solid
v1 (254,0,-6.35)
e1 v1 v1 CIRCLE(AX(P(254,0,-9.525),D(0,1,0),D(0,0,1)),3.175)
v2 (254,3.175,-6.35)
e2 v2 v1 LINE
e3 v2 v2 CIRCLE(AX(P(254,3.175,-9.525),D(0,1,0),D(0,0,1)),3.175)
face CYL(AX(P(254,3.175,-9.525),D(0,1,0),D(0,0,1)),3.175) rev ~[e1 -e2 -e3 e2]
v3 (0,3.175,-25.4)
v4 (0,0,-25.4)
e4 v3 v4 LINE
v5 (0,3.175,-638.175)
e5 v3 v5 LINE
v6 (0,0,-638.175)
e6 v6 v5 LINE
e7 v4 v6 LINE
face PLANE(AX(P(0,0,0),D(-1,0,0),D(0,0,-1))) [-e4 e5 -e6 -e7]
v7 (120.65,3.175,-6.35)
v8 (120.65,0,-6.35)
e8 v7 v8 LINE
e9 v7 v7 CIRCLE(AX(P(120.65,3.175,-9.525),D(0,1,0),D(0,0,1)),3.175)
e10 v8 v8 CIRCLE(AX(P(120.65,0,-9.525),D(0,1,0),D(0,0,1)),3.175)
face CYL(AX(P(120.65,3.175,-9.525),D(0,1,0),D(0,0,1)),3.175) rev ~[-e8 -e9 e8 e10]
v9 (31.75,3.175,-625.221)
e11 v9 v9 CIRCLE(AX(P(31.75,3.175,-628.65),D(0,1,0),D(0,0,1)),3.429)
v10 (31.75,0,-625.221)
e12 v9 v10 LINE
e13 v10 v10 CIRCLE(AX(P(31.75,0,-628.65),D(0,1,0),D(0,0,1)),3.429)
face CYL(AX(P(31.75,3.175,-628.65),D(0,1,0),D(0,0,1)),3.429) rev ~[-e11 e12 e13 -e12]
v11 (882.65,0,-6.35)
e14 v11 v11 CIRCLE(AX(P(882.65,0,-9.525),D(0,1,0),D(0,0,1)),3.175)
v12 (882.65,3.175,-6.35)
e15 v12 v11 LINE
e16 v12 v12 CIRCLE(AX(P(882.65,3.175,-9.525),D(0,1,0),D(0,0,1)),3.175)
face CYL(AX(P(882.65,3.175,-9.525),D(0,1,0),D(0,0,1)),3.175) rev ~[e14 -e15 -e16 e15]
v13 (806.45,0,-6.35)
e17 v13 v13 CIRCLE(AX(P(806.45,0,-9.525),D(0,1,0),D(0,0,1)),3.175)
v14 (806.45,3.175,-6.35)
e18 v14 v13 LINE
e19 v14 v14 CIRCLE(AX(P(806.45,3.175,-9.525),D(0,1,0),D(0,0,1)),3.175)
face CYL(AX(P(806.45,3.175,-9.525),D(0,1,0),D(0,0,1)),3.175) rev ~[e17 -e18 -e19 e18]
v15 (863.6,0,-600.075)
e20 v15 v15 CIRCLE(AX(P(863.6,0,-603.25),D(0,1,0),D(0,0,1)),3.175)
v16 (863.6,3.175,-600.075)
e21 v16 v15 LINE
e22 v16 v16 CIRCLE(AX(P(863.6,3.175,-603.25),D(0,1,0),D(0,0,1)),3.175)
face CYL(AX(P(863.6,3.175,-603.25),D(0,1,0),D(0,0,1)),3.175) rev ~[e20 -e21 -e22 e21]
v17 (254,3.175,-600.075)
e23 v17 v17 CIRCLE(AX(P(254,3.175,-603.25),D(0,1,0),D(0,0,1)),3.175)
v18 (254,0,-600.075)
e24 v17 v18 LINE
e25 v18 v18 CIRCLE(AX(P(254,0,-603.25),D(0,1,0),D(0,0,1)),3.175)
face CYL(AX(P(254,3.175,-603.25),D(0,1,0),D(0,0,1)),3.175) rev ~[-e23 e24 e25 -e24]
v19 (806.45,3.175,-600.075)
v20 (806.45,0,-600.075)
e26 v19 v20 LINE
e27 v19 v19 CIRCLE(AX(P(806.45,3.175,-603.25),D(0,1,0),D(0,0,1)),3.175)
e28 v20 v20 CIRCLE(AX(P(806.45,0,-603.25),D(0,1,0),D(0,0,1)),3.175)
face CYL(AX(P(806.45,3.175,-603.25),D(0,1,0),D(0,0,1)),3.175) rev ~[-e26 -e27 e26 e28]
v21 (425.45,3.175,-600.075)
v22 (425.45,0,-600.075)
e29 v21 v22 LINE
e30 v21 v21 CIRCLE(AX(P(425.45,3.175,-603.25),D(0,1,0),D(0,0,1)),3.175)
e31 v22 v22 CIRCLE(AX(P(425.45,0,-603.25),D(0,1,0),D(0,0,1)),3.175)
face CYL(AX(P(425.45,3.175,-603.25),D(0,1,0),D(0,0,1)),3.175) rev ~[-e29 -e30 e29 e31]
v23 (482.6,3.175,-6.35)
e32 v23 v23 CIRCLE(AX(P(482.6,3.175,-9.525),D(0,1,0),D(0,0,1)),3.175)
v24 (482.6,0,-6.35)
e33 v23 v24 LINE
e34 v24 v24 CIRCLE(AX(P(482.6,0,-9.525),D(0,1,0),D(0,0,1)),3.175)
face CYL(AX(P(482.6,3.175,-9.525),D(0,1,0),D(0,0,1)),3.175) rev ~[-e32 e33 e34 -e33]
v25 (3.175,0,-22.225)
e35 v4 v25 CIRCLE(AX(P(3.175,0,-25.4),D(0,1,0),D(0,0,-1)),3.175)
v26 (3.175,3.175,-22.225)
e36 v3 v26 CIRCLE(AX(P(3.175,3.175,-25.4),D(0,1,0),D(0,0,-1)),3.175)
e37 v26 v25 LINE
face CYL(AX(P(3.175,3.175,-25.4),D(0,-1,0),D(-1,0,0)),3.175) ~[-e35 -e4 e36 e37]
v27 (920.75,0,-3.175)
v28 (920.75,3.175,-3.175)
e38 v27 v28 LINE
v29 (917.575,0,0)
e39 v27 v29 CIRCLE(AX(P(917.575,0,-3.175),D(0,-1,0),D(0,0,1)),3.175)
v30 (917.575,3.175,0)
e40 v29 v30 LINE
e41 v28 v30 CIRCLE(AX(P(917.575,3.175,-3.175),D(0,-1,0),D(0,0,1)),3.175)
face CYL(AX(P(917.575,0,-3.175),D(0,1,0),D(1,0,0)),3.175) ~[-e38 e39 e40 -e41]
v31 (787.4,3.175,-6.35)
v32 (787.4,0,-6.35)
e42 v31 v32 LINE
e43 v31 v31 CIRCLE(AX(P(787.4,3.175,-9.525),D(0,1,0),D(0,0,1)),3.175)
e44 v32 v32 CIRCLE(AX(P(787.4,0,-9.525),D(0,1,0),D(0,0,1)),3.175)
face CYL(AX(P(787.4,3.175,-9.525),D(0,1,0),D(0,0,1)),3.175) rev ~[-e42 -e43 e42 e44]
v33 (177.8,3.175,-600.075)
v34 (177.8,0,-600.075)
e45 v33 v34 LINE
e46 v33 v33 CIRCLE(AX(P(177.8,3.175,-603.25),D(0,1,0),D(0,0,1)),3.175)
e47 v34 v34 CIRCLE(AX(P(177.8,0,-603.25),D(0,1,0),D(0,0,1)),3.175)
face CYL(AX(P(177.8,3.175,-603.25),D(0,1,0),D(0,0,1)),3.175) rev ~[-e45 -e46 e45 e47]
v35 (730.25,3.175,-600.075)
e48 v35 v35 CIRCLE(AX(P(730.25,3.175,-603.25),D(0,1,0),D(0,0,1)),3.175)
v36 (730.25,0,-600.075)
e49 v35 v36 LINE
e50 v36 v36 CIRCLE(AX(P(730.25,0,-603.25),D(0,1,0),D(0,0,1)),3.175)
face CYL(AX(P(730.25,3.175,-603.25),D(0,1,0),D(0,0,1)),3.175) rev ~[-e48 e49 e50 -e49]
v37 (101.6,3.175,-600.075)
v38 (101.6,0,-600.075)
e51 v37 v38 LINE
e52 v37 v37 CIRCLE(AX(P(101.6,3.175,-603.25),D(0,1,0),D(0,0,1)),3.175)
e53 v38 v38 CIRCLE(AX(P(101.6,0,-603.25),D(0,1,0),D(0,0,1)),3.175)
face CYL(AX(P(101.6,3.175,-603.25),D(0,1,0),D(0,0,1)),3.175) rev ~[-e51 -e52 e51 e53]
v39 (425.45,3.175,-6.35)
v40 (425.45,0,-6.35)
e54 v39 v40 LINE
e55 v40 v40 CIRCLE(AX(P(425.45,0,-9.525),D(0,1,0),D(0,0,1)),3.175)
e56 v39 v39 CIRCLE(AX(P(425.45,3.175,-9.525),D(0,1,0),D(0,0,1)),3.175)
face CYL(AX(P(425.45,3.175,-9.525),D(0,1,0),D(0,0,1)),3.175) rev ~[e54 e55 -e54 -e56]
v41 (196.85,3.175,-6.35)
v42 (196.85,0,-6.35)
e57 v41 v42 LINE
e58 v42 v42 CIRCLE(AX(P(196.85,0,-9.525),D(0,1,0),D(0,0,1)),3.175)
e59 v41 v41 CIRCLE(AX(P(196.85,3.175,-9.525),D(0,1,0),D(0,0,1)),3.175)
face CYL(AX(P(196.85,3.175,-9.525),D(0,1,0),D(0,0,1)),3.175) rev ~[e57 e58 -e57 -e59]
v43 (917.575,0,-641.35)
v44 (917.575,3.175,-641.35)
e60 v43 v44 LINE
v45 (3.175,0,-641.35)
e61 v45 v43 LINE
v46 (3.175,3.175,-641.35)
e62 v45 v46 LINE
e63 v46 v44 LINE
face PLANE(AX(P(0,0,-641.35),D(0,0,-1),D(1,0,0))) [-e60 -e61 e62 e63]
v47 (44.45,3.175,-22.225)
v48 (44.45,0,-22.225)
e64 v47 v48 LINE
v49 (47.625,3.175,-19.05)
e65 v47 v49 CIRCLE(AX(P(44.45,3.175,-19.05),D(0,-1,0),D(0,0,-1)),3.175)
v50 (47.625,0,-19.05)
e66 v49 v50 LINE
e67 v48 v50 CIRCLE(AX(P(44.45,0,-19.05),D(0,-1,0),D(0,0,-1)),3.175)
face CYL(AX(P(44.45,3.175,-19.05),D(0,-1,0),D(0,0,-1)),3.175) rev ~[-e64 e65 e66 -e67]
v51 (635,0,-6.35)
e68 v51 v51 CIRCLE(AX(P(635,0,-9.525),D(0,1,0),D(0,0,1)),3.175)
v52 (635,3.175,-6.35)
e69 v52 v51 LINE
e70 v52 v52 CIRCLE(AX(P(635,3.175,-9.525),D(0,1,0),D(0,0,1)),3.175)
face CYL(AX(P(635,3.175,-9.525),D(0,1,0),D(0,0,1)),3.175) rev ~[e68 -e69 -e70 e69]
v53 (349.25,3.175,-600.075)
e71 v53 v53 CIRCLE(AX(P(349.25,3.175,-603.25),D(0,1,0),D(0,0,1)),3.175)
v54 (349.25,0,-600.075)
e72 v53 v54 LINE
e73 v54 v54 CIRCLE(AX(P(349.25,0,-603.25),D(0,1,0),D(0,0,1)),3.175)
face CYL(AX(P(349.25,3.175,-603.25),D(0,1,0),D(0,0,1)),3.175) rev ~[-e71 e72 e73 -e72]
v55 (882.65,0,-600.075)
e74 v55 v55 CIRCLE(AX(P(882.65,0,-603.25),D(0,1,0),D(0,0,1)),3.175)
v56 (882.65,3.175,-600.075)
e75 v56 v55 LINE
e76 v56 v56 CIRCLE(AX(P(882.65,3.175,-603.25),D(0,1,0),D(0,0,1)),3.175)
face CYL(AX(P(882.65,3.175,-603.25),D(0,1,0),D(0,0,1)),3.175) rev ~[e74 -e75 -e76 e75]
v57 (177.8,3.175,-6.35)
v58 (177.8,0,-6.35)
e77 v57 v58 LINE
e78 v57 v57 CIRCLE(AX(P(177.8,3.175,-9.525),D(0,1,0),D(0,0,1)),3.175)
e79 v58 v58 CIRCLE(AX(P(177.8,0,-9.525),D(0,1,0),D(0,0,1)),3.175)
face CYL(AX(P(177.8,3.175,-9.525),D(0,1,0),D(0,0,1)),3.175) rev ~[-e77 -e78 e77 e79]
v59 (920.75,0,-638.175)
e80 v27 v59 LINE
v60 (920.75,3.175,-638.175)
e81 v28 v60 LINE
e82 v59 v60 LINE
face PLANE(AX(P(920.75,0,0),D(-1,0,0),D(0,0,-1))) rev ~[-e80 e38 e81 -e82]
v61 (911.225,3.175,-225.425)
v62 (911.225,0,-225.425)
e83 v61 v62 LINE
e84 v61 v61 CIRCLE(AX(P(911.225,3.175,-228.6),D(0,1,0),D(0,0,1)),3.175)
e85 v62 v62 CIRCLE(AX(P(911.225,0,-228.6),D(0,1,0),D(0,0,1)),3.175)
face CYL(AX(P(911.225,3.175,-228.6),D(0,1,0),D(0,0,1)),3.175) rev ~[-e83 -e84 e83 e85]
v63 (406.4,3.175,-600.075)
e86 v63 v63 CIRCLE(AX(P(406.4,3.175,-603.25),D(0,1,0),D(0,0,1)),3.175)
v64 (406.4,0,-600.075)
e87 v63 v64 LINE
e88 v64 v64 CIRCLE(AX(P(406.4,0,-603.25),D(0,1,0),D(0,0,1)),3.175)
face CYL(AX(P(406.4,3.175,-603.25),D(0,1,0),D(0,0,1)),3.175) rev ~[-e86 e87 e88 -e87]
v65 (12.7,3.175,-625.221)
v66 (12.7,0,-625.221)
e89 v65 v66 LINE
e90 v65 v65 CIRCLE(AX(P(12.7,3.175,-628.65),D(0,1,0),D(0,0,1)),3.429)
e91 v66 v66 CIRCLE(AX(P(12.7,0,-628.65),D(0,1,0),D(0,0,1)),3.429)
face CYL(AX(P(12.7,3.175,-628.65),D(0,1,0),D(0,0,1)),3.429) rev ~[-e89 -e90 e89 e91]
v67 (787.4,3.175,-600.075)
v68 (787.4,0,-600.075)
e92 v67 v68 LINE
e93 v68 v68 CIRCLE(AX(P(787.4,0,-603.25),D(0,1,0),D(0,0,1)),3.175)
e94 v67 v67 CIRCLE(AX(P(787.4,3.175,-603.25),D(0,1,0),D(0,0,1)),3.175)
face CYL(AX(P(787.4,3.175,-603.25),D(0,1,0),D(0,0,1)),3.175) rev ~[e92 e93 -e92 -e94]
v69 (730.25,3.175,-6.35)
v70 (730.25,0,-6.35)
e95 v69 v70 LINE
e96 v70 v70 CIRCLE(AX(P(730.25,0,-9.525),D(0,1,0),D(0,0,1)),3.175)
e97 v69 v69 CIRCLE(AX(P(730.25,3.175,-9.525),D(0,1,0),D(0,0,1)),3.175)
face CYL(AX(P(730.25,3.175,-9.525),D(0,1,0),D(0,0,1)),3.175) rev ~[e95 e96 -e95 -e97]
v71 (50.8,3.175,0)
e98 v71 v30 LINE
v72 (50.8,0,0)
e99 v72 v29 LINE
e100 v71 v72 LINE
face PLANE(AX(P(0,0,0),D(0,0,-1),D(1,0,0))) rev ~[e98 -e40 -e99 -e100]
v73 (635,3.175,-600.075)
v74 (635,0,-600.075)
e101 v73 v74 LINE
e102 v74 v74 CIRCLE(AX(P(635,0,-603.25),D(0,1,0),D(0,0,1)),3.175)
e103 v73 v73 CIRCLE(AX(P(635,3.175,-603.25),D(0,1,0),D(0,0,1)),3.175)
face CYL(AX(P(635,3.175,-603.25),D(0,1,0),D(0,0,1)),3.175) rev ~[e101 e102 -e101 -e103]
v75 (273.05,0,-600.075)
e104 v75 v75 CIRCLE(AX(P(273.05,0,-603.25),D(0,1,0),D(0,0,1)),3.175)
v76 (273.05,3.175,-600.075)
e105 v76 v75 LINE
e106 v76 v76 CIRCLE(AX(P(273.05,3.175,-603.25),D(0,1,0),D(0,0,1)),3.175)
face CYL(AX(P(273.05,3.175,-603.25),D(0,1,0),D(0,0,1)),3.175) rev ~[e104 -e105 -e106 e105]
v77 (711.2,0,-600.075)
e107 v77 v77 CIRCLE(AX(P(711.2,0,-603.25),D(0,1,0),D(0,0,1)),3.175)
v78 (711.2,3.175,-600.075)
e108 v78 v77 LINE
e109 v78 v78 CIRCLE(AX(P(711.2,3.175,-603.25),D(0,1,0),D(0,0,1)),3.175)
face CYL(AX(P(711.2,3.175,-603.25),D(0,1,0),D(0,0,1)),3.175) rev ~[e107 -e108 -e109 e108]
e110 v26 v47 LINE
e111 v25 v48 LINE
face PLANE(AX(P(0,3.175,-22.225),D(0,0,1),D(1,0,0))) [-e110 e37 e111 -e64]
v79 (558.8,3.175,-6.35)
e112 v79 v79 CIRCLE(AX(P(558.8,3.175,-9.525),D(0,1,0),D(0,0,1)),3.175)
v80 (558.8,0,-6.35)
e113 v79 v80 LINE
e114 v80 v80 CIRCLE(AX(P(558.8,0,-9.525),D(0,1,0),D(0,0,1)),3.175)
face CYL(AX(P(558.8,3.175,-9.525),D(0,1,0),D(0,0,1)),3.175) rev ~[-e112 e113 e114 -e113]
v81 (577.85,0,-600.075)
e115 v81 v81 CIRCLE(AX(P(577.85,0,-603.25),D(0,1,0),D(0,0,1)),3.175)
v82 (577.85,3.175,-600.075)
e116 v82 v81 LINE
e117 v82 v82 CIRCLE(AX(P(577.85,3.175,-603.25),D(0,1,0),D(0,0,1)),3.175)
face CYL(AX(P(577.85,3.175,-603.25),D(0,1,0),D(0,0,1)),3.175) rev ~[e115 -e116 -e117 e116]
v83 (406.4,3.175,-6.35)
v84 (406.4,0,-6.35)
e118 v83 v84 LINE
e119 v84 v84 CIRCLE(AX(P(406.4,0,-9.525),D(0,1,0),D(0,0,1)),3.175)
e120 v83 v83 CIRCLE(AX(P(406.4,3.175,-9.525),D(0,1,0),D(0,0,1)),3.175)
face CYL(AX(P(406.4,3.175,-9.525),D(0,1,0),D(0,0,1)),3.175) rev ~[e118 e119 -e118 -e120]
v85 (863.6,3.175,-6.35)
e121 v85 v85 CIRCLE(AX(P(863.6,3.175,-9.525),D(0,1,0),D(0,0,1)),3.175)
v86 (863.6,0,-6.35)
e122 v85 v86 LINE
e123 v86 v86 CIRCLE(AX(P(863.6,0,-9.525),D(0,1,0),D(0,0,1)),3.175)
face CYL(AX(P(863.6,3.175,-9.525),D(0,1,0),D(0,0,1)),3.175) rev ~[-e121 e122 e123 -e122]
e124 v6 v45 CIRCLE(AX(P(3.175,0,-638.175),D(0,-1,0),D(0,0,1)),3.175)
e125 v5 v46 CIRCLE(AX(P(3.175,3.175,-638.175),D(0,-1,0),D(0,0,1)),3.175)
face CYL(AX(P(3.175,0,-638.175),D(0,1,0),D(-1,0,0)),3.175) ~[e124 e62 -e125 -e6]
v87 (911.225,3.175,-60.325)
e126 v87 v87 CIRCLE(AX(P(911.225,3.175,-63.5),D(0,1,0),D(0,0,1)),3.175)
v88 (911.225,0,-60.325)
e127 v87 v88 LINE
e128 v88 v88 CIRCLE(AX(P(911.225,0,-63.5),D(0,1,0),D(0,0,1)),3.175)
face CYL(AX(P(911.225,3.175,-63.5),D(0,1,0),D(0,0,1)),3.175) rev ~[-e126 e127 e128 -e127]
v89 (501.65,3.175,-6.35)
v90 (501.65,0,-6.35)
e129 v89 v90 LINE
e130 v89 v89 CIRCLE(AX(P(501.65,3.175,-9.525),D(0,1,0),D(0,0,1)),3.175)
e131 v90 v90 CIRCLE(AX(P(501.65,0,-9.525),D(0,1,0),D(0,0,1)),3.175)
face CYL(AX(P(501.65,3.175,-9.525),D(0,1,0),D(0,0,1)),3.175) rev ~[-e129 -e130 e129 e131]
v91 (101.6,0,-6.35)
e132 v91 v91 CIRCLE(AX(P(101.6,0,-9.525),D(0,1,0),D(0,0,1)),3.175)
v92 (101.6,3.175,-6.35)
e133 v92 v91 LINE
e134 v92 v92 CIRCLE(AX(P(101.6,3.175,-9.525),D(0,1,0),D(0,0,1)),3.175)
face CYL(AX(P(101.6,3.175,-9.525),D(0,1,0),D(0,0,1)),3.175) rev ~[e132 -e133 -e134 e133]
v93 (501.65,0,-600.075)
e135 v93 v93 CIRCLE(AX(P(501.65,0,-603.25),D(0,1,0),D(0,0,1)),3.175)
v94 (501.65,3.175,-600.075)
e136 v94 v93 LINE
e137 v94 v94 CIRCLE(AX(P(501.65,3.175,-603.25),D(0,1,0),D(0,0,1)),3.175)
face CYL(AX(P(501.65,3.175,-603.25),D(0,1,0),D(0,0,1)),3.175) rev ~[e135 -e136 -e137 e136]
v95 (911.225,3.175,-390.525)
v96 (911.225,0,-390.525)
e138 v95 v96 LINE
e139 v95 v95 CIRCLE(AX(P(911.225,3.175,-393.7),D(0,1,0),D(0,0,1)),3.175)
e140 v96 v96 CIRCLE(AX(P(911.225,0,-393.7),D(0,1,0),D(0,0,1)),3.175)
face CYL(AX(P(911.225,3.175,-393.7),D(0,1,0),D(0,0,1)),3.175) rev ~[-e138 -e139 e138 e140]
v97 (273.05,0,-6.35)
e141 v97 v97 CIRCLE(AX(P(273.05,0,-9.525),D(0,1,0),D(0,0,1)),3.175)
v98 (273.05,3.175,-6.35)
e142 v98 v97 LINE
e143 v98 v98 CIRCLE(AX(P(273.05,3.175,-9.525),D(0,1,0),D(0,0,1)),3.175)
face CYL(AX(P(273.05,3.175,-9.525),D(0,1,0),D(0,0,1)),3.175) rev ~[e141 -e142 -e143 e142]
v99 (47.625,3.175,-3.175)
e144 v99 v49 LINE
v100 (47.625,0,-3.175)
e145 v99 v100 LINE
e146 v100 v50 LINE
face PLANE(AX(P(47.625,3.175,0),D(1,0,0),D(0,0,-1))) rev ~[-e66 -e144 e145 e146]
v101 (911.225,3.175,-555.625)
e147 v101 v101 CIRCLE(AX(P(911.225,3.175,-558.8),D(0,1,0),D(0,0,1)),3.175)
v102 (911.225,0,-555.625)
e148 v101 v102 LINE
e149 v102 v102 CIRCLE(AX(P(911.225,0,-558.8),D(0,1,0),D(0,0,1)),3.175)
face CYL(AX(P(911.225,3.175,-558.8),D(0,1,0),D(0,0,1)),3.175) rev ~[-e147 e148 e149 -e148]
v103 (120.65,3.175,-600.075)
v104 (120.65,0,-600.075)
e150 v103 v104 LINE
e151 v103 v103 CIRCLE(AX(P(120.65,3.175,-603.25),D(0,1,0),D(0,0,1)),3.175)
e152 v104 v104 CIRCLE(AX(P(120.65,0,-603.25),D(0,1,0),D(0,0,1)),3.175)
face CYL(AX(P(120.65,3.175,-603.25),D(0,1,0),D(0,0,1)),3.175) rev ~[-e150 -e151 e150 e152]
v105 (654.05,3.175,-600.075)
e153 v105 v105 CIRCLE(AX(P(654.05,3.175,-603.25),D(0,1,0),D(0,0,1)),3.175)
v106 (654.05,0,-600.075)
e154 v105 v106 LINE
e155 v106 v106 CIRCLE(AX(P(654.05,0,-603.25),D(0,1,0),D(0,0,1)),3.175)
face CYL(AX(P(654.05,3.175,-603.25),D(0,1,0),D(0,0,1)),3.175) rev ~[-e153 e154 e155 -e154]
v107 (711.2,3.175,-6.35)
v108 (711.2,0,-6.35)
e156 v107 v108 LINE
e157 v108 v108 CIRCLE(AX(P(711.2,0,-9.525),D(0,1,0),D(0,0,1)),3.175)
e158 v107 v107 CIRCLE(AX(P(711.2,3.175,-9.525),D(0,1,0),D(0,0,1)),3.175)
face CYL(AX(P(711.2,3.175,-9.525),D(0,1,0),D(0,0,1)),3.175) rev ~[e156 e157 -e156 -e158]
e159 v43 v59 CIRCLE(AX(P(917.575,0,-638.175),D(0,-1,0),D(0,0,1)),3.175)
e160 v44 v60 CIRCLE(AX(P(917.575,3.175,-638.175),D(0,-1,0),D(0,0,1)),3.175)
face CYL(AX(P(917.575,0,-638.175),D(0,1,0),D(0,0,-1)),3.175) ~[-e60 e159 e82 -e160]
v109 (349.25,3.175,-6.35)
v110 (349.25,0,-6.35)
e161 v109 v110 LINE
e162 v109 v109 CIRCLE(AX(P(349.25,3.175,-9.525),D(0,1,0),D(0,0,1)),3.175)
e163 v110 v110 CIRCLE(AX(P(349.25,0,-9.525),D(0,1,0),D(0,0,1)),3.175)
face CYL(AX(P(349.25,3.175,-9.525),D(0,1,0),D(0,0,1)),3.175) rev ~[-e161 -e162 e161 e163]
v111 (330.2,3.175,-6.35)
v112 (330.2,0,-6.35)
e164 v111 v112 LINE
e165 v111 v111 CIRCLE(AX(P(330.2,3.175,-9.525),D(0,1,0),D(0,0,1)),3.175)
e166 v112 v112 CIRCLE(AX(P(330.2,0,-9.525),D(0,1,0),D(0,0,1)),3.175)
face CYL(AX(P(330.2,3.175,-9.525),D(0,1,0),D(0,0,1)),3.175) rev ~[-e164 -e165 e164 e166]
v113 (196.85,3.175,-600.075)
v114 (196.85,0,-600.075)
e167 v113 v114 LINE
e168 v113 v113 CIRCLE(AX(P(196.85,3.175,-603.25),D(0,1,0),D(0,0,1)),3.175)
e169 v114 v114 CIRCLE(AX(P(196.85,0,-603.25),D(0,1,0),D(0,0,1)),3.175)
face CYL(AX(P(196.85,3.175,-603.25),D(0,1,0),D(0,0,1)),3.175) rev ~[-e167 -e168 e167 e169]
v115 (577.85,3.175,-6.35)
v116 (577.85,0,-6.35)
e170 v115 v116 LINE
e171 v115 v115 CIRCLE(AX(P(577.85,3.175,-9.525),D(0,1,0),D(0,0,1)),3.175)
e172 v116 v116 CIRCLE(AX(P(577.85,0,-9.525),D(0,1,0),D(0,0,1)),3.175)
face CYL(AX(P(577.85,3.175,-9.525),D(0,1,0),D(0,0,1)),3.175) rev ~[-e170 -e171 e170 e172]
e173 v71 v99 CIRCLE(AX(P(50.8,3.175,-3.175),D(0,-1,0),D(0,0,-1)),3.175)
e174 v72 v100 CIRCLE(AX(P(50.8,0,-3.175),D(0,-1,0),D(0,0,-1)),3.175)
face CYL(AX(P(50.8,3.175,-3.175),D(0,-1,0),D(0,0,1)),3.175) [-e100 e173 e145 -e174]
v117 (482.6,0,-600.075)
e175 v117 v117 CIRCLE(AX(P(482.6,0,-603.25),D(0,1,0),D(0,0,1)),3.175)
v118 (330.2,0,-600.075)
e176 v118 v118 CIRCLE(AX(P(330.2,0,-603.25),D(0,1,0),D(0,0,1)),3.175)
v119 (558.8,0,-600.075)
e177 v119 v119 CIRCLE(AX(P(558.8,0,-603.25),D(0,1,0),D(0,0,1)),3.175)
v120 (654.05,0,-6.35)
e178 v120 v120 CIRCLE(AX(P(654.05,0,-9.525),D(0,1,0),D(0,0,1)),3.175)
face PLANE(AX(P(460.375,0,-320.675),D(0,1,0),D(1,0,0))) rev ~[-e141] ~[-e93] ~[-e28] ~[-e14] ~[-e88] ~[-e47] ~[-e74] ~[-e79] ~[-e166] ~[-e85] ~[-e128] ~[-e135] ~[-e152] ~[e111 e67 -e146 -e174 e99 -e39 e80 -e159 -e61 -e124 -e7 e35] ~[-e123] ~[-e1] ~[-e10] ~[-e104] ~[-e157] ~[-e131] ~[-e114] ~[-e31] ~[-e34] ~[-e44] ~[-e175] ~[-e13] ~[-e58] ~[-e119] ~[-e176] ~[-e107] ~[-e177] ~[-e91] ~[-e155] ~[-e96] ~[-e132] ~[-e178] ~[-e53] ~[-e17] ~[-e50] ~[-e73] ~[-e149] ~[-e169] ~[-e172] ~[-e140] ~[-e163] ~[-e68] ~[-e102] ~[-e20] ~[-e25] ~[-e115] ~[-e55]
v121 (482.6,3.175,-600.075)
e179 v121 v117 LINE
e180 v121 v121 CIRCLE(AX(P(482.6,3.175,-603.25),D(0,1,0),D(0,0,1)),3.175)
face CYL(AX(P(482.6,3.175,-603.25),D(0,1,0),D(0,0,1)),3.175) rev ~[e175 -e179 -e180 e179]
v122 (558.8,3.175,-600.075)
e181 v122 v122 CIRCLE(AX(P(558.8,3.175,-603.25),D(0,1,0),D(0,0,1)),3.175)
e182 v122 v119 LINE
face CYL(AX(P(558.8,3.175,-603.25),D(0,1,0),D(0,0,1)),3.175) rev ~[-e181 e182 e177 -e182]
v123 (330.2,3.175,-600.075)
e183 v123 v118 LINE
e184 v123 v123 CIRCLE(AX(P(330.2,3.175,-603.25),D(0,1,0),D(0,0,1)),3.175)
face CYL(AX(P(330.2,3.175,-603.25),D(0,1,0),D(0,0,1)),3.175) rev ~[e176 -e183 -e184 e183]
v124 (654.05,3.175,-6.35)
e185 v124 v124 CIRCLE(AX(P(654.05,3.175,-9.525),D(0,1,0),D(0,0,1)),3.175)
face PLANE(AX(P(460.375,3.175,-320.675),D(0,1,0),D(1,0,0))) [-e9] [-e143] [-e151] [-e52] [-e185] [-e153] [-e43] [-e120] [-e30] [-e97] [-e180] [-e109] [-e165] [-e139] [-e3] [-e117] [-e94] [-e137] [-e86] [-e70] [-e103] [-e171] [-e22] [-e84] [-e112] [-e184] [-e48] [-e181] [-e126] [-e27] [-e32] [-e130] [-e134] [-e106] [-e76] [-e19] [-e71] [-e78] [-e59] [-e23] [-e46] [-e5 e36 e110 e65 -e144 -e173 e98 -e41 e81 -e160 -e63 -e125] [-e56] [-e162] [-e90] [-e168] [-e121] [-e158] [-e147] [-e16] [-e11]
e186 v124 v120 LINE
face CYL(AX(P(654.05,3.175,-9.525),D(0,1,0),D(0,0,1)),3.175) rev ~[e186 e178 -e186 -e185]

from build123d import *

# Parameters (mm, degrees)
SKETCH1_W           = 920.75
SKETCH1_H           = 641.35
BOSS_EXTRUDE1_DEPTH = 3.175
SKETCH2_R           = 3.429
SKETCH2_R_2         = 3.175
SKETCH2_W           = 47.625
SKETCH2_H           = 22.225
CUT_EXTRUDE1_DEPTH  = 3.175
FILLET1_R           = 3.175


with BuildPart() as part:
    # Sketch1 → Boss-Extrude1 (new body)
    with BuildSketch(Plane(origin=(0, 0, 0), x_dir=(1, 0, 0), z_dir=(0, 1, 0))):
        with Locations((460.375, 320.675)):
            Rectangle(SKETCH1_W, SKETCH1_H)
    extrude(amount=BOSS_EXTRUDE1_DEPTH)

    # Sketch2 → Cut-Extrude1 (cut)
    with BuildSketch(Plane(origin=(0, 3.175, 0), x_dir=(1, 0, 0), z_dir=(0, 1, 0))):
        with Locations(Location((12.7, 628.65, 0), (0, 0, 270))):
            Circle(SKETCH2_R)
        with Locations(Location((31.75, 628.65, 0), (0, 0, 270))):
            Circle(SKETCH2_R)
        with Locations(Location((101.6, 9.525, 0), (0, 0, 270))):
            Circle(SKETCH2_R_2)
        with Locations(Location((120.65, 9.525, 0), (0, 0, 270))):
            Circle(SKETCH2_R_2)
        with Locations(Location((196.85, 9.525, 0), (0, 0, 270))):
            Circle(SKETCH2_R_2)
        with Locations(Location((177.8, 9.525, 0), (0, 0, 270))):
            Circle(SKETCH2_R_2)
        with Locations(Location((273.05, 9.525, 0), (0, 0, 270))):
            Circle(SKETCH2_R_2)
        with Locations(Location((254, 9.525, 0), (0, 0, 270))):
            Circle(SKETCH2_R_2)
        with Locations(Location((349.25, 9.525, 0), (0, 0, 270))):
            Circle(SKETCH2_R_2)
        with Locations(Location((330.2, 9.525, 0), (0, 0, 270))):
            Circle(SKETCH2_R_2)
        with Locations(Location((425.45, 9.525, 0), (0, 0, 270))):
            Circle(SKETCH2_R_2)
        with Locations(Location((406.4, 9.525, 0), (0, 0, 270))):
            Circle(SKETCH2_R_2)
        with Locations(Location((501.65, 9.525, 0), (0, 0, 270))):
            Circle(SKETCH2_R_2)
        with Locations(Location((482.6, 9.525, 0), (0, 0, 270))):
            Circle(SKETCH2_R_2)
        with Locations(Location((577.85, 9.525, 0), (0, 0, 270))):
            Circle(SKETCH2_R_2)
        with Locations(Location((558.8, 9.525, 0), (0, 0, 270))):
            Circle(SKETCH2_R_2)
        with Locations(Location((654.05, 9.525, 0), (0, 0, 270))):
            Circle(SKETCH2_R_2)
        with Locations(Location((635, 9.525, 0), (0, 0, 270))):
            Circle(SKETCH2_R_2)
        with Locations(Location((730.25, 9.525, 0), (0, 0, 270))):
            Circle(SKETCH2_R_2)
        with Locations(Location((711.2, 9.525, 0), (0, 0, 270))):
            Circle(SKETCH2_R_2)
        with Locations(Location((806.45, 9.525, 0), (0, 0, 270))):
            Circle(SKETCH2_R_2)
        with Locations(Location((787.4, 9.525, 0), (0, 0, 270))):
            Circle(SKETCH2_R_2)
        with Locations(Location((882.65, 9.525, 0), (0, 0, 270))):
            Circle(SKETCH2_R_2)
        with Locations(Location((863.6, 9.525, 0), (0, 0, 270))):
            Circle(SKETCH2_R_2)
        with Locations(Location((882.65, 603.25, 0), (0, 0, 270))):
            Circle(SKETCH2_R_2)
        with Locations(Location((863.6, 603.25, 0), (0, 0, 270))):
            Circle(SKETCH2_R_2)
        with Locations(Location((806.45, 603.25, 0), (0, 0, 270))):
            Circle(SKETCH2_R_2)
        with Locations(Location((787.4, 603.25, 0), (0, 0, 270))):
            Circle(SKETCH2_R_2)
        with Locations(Location((730.25, 603.25, 0), (0, 0, 270))):
            Circle(SKETCH2_R_2)
        with Locations(Location((711.2, 603.25, 0), (0, 0, 270))):
            Circle(SKETCH2_R_2)
        with Locations(Location((635, 603.25, 0), (0, 0, 270))):
            Circle(SKETCH2_R_2)
        with Locations(Location((654.05, 603.25, 0), (0, 0, 270))):
            Circle(SKETCH2_R_2)
        with Locations(Location((482.6, 603.25, 0), (0, 0, 270))):
            Circle(SKETCH2_R_2)
        with Locations(Location((501.65, 603.25, 0), (0, 0, 270))):
            Circle(SKETCH2_R_2)
        with Locations(Location((558.8, 603.25, 0), (0, 0, 270))):
            Circle(SKETCH2_R_2)
        with Locations(Location((577.85, 603.25, 0), (0, 0, 270))):
            Circle(SKETCH2_R_2)
        with Locations(Location((425.45, 603.25, 0), (0, 0, 270))):
            Circle(SKETCH2_R_2)
        with Locations(Location((406.4, 603.25, 0), (0, 0, 270))):
            Circle(SKETCH2_R_2)
        with Locations(Location((120.65, 603.25, 0), (0, 0, 270))):
            Circle(SKETCH2_R_2)
        with Locations(Location((177.8, 603.25, 0), (0, 0, 270))):
            Circle(SKETCH2_R_2)
        with Locations(Location((196.85, 603.25, 0), (0, 0, 270))):
            Circle(SKETCH2_R_2)
        with Locations(Location((254, 603.25, 0), (0, 0, 270))):
            Circle(SKETCH2_R_2)
        with Locations(Location((273.05, 603.25, 0), (0, 0, 270))):
            Circle(SKETCH2_R_2)
        with Locations(Location((330.2, 603.25, 0), (0, 0, 270))):
            Circle(SKETCH2_R_2)
        with Locations(Location((349.25, 603.25, 0), (0, 0, 270))):
            Circle(SKETCH2_R_2)
        with Locations(Location((101.6, 603.25, 0), (0, 0, 270))):
            Circle(SKETCH2_R_2)
        with Locations(Location((911.225, 63.5, 0), (0, 0, 270))):
            Circle(SKETCH2_R_2)
        with Locations(Location((911.225, 228.6, 0), (0, 0, 270))):
            Circle(SKETCH2_R_2)
        with Locations(Location((911.225, 393.7, 0), (0, 0, 270))):
            Circle(SKETCH2_R_2)
        with Locations(Location((911.225, 558.8, 0), (0, 0, 270))):
            Circle(SKETCH2_R_2)
        with Locations((23.8125, 11.1125)):
            Rectangle(SKETCH2_W, SKETCH2_H)
    extrude(amount=-CUT_EXTRUDE1_DEPTH, mode=Mode.SUBTRACT)

    # Fillet1
    fillet1_edges = [part.edges().sort_by_distance(p)[0] for p in [
        (0, 1.5875, -22.225),
        (47.625, 1.5875, -22.225),
        (47.625, 1.5875, 0),
        (0, 1.5875, -641.35),
        (920.75, 1.5875, -641.35),
        (920.75, 1.5875, 0),
    ]]
    fillet(fillet1_edges, radius=FILLET1_R)


solid = part.part
